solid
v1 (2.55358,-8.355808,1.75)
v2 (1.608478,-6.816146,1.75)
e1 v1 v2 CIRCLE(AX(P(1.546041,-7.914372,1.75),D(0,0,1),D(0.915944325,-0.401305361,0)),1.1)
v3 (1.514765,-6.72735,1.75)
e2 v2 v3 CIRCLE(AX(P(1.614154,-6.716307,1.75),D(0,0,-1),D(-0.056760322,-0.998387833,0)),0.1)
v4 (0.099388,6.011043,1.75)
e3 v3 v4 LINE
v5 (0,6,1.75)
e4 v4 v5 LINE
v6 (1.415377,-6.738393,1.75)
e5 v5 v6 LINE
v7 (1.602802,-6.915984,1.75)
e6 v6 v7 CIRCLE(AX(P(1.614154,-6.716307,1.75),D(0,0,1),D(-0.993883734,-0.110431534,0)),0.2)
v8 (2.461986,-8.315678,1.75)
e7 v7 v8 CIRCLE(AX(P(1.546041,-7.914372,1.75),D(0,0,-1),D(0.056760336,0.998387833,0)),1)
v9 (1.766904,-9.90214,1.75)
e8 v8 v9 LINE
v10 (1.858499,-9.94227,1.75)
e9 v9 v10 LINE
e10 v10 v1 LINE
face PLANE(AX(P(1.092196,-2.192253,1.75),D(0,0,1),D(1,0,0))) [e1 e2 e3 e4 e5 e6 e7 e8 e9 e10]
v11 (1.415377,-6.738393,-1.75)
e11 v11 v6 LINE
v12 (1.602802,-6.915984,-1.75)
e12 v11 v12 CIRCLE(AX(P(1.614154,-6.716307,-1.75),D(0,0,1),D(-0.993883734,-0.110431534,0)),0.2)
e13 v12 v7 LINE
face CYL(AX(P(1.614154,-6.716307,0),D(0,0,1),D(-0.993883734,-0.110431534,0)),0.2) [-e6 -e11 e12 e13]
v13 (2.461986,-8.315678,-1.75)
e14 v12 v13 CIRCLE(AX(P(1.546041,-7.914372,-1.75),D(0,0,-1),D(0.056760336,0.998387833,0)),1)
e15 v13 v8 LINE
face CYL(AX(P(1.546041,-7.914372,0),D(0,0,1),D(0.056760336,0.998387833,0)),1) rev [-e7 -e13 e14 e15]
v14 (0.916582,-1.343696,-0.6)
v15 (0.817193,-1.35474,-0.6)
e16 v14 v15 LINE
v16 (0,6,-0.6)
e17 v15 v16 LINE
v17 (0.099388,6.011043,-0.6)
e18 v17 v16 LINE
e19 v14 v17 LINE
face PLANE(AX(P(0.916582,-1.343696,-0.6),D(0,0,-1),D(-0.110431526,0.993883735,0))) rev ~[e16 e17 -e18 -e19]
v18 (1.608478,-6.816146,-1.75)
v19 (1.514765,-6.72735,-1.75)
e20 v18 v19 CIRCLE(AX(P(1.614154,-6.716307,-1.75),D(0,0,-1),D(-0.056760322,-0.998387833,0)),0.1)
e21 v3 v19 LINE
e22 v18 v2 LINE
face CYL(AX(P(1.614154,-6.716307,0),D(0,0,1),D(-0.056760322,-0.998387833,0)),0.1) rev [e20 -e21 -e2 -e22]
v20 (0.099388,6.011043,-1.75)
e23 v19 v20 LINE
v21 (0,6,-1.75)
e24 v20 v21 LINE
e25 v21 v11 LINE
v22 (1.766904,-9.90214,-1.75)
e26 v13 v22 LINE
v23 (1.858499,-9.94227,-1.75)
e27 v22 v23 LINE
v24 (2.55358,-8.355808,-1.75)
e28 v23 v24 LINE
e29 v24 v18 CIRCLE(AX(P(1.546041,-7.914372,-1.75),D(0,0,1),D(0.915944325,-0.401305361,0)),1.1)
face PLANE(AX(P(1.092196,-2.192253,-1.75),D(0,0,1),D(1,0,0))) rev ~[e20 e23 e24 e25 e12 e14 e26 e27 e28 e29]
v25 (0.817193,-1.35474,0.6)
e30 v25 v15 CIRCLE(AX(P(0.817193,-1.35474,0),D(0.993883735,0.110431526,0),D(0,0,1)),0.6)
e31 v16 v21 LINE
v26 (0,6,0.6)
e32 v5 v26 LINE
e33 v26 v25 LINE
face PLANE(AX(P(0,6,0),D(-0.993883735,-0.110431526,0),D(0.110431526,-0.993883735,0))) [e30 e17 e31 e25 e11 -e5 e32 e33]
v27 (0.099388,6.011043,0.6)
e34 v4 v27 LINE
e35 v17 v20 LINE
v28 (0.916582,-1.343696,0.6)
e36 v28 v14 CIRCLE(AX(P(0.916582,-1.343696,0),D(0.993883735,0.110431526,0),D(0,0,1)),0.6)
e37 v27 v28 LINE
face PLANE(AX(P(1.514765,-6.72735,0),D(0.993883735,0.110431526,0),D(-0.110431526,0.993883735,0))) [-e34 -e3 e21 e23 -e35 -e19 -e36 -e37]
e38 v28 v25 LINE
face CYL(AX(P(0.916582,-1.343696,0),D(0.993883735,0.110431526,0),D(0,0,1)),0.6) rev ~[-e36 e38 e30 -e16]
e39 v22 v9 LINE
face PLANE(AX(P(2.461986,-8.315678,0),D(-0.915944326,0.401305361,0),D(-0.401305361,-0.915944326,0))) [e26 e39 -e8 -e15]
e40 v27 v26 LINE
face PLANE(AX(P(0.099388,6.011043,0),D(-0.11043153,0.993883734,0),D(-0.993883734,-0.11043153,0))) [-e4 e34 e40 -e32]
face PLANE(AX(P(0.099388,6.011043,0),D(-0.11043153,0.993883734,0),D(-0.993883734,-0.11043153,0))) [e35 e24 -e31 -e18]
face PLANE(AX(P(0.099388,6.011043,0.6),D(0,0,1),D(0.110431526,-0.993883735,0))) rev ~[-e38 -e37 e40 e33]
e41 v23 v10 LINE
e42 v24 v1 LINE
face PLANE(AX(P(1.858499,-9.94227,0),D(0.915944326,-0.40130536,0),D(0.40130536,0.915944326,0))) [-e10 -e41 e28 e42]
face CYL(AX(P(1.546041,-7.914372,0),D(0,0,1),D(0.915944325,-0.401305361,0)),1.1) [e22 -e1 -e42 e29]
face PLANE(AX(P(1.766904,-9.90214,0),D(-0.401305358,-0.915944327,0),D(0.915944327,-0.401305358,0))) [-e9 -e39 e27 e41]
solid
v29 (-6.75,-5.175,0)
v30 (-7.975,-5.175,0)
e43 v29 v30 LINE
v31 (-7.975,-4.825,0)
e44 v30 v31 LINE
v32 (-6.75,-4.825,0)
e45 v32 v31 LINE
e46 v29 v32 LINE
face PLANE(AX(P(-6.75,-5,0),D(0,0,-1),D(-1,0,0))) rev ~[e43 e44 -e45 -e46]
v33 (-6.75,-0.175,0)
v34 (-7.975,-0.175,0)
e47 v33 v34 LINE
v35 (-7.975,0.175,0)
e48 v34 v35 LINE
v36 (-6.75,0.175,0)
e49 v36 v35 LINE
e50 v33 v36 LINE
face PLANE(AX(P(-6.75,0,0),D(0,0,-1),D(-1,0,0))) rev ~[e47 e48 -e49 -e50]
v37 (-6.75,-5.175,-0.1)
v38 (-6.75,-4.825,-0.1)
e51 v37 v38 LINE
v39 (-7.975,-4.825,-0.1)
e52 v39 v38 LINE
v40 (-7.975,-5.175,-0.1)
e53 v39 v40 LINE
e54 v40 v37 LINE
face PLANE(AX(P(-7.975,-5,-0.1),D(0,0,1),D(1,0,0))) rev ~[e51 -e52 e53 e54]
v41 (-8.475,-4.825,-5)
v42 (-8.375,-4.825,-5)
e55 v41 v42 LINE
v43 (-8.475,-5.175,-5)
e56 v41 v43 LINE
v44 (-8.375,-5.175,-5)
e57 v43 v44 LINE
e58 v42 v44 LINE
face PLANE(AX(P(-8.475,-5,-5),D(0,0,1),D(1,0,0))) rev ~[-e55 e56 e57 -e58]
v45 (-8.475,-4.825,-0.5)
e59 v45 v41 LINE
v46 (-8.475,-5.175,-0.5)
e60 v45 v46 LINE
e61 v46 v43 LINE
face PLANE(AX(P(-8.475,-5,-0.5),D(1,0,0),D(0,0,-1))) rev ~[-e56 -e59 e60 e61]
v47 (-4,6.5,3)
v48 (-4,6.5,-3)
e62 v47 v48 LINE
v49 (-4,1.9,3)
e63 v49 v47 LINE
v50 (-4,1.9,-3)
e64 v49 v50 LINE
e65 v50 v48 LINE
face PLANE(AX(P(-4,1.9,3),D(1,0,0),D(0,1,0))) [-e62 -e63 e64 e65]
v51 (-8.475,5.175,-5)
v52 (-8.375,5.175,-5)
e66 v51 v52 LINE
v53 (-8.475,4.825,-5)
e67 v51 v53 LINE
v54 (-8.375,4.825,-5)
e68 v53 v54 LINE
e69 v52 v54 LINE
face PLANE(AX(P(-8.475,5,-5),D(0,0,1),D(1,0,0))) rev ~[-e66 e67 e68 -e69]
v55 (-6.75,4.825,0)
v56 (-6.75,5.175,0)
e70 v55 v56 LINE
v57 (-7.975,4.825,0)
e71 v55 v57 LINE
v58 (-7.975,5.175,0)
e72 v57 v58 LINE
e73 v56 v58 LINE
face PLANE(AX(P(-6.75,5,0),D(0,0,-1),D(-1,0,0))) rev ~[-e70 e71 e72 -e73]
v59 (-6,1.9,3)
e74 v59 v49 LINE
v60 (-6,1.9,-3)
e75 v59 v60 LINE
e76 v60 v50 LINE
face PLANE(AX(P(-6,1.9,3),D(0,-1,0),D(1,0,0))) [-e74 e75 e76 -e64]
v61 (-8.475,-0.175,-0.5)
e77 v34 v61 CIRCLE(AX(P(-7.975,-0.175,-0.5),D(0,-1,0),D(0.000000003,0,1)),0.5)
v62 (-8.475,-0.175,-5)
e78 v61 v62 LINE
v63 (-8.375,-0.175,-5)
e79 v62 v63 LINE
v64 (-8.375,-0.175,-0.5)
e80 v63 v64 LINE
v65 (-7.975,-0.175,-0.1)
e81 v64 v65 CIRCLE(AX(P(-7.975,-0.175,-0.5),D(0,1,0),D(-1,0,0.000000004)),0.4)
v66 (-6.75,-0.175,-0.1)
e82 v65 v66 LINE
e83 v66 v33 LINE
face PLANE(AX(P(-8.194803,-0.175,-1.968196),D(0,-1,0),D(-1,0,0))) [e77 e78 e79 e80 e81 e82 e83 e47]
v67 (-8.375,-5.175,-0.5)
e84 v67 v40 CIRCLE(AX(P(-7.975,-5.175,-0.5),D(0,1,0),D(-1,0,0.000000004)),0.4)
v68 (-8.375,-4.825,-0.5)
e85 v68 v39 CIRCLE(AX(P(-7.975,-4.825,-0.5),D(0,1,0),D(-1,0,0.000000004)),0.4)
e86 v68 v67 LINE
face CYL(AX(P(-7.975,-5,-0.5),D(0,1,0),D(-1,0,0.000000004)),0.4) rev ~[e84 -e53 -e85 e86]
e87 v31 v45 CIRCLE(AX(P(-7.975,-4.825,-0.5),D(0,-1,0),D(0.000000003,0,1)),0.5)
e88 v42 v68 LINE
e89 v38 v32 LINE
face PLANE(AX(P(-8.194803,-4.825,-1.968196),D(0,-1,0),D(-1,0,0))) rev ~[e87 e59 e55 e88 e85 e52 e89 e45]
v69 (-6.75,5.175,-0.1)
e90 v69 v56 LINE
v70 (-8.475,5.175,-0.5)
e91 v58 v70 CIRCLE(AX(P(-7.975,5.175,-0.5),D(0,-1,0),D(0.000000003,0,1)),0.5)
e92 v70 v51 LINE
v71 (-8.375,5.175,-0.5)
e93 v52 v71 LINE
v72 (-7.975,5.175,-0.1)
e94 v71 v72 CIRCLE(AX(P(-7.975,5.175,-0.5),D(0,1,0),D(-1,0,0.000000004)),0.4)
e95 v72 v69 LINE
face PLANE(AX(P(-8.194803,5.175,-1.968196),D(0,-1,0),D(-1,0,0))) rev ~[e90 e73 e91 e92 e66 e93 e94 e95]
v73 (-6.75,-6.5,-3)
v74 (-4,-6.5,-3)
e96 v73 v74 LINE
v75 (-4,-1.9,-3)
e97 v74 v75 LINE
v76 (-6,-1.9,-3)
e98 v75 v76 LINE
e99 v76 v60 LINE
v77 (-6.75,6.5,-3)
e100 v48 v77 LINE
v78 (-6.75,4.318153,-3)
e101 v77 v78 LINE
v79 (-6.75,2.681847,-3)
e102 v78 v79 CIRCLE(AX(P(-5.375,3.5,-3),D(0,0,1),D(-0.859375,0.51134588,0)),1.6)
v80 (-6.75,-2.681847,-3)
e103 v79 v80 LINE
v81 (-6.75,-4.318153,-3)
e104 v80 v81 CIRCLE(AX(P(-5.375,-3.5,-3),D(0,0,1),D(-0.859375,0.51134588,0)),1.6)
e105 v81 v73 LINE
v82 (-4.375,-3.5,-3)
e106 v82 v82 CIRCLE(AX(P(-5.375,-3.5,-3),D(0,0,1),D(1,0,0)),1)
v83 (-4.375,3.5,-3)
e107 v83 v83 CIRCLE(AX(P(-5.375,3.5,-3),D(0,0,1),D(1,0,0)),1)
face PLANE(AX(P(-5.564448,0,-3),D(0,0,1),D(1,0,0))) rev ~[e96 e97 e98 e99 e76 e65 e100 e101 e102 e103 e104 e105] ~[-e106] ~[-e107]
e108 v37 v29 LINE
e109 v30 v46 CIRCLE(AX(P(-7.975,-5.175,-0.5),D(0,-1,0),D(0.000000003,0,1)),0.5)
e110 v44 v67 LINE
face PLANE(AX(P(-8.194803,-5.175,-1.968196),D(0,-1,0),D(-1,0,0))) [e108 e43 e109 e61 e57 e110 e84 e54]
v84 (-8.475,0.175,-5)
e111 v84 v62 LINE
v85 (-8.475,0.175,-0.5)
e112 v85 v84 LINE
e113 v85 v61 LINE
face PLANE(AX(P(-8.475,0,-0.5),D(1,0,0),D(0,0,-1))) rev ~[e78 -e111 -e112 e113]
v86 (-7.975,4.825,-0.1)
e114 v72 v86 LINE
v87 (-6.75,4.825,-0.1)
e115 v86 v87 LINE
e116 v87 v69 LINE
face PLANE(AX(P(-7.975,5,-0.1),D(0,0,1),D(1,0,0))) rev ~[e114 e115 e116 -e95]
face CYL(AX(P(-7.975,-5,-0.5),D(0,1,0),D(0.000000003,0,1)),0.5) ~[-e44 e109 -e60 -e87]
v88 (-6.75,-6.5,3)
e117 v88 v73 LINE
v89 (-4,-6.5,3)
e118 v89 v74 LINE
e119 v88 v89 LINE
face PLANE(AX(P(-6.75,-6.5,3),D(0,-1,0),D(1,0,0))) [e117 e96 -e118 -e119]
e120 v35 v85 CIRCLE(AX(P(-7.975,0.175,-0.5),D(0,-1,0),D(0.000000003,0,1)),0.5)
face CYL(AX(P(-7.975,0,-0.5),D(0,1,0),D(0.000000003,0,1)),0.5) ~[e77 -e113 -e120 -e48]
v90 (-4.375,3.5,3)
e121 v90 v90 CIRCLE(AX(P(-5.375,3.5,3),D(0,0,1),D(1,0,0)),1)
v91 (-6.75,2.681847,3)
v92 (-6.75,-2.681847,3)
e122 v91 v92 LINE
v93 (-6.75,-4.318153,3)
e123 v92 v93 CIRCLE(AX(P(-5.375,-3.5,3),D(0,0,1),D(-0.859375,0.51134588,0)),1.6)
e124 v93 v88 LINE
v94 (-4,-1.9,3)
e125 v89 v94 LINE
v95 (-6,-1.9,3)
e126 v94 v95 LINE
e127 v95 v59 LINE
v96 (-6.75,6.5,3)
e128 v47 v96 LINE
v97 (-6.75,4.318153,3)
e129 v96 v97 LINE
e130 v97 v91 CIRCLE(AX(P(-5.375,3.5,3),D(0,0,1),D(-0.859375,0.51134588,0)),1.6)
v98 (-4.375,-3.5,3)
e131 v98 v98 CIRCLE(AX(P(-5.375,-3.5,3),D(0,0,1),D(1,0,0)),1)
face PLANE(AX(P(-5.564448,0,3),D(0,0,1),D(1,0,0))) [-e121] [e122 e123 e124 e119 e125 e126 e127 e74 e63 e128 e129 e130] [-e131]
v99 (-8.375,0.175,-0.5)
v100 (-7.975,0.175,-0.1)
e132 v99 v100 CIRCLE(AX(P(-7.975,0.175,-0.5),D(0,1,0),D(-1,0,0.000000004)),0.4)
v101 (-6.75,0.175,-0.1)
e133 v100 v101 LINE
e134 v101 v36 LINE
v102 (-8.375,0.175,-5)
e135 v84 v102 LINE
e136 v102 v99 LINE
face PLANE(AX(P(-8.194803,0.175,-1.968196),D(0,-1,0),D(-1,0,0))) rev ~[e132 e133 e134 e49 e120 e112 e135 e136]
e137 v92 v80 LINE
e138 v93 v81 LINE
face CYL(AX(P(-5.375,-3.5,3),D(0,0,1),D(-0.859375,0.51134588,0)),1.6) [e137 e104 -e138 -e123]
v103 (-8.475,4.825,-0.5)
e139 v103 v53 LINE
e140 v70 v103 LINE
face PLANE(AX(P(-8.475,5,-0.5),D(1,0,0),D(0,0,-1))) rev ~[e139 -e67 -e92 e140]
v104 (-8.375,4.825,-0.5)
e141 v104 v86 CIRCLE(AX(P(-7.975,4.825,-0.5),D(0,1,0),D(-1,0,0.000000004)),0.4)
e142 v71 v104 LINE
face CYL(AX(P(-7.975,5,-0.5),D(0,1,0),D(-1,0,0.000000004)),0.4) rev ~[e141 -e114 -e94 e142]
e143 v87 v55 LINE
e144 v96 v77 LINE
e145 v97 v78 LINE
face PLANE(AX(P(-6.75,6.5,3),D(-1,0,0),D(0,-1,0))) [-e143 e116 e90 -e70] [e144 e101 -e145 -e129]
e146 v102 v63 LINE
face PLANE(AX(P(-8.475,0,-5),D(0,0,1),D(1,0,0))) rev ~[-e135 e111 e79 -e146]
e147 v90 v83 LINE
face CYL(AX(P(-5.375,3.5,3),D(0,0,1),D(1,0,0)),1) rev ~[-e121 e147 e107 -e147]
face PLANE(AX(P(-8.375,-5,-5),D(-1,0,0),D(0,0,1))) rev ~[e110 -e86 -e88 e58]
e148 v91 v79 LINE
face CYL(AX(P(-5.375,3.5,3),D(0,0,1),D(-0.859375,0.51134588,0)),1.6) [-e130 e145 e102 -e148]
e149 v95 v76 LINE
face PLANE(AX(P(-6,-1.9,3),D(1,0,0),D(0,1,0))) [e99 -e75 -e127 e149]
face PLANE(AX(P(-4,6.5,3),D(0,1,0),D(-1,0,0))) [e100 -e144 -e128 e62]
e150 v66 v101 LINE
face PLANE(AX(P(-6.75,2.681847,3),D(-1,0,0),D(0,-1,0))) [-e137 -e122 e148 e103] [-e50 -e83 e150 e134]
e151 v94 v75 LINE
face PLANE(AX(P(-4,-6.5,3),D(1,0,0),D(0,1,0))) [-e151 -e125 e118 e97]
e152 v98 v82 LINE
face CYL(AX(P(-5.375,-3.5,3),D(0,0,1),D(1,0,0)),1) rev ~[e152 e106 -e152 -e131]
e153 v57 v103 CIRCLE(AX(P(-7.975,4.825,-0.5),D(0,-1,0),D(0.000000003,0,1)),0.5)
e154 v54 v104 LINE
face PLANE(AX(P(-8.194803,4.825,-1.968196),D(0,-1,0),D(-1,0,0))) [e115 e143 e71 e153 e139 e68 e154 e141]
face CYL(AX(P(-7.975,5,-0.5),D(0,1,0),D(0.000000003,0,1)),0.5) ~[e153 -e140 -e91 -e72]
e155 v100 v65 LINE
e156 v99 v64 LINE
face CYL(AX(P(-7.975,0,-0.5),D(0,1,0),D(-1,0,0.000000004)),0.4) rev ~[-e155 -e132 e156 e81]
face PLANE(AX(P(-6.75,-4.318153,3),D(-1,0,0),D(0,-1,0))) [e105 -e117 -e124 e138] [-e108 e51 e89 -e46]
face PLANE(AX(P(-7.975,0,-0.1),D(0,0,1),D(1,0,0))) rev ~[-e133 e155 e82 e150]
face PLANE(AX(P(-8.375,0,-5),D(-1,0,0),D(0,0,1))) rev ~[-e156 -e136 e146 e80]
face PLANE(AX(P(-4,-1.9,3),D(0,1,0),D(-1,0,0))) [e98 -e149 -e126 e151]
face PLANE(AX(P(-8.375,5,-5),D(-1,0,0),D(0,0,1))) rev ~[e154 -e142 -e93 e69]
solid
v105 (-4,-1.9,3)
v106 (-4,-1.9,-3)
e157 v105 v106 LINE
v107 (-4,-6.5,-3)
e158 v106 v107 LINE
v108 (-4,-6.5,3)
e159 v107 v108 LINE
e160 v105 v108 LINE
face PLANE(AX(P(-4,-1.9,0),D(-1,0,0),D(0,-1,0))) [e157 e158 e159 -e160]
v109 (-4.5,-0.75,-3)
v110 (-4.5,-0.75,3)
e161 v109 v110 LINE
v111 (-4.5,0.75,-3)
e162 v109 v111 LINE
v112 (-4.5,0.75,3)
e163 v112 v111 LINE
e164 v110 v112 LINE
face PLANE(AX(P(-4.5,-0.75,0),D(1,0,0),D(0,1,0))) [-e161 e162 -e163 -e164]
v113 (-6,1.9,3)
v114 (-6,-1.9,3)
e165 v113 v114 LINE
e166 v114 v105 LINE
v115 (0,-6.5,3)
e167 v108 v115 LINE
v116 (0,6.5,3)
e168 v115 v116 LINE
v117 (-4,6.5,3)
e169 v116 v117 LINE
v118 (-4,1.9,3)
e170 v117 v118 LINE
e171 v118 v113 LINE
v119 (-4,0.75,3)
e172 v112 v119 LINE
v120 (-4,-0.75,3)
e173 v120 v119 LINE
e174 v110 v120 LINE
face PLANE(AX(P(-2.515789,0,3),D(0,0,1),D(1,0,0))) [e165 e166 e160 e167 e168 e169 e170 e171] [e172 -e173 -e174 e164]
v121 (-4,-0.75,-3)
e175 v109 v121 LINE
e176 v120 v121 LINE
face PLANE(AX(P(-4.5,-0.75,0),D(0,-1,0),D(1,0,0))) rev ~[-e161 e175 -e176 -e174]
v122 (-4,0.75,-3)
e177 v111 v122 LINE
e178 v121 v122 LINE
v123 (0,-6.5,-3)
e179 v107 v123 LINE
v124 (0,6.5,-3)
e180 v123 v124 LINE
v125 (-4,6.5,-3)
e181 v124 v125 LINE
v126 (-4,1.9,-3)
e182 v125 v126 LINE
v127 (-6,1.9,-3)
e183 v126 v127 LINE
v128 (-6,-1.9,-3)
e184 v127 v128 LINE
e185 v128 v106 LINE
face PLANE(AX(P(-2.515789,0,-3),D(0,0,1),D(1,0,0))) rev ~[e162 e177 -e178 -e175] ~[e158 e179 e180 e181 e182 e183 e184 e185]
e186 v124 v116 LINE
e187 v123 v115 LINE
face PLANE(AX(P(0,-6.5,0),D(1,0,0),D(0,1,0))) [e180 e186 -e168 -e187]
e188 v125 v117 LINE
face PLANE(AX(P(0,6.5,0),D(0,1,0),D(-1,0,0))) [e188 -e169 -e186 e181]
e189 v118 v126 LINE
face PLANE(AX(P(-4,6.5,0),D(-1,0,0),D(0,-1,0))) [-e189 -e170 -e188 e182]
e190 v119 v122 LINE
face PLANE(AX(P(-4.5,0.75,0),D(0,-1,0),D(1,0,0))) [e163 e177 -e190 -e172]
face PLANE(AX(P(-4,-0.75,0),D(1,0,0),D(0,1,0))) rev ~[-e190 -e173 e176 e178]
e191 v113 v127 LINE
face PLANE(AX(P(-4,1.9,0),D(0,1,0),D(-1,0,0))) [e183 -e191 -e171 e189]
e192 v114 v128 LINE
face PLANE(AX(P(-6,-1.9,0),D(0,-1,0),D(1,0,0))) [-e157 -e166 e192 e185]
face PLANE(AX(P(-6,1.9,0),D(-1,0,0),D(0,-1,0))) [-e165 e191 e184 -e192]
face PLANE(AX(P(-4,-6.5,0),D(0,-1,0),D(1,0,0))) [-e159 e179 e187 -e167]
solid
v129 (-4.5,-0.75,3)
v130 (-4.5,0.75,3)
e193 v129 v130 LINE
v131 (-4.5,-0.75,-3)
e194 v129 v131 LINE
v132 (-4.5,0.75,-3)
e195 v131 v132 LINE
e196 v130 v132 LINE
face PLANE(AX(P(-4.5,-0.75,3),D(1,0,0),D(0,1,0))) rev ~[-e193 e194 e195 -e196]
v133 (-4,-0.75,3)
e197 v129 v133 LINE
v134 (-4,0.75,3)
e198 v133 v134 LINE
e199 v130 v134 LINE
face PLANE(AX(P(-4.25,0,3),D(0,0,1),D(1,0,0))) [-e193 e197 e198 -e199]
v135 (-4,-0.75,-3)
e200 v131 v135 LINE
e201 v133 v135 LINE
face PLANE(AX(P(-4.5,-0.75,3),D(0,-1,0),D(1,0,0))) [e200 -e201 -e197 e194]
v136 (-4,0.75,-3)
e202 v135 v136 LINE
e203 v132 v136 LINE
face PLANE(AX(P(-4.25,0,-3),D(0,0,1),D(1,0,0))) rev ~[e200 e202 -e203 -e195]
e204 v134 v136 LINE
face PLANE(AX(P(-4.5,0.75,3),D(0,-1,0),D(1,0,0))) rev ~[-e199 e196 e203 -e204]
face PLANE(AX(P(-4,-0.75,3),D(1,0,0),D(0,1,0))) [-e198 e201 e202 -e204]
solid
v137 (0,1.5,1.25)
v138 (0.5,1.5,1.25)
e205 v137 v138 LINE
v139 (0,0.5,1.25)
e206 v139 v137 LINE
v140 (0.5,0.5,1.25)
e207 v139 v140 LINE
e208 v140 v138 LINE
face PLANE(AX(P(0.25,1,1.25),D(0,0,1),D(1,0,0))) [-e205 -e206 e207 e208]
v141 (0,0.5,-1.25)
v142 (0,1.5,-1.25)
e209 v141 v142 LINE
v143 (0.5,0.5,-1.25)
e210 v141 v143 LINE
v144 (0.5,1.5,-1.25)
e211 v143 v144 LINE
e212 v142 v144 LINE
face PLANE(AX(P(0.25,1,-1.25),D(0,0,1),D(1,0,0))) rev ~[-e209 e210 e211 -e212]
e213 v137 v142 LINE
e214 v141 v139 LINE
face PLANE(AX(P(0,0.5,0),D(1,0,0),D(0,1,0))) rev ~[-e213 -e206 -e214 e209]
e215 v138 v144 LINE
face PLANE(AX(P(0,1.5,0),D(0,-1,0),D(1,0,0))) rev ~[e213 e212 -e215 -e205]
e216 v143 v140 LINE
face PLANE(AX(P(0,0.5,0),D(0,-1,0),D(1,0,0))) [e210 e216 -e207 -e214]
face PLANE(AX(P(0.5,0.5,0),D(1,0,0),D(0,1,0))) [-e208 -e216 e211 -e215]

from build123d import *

# Parameters (mm, degrees)
ESQUISSE1_W                    = 0.5
ESQUISSE1_H                    = 1.5
BOSS_EXTRU_1_DEPTH             = 3
ESQUISSE2_R                    = 1
BOSS_EXTRU_2_DEPTH             = 6
ESQUISSE2_W                    = 0.5
ESQUISSE2_H                    = 1.5
BOSS_EXTRU_2_2_DEPTH           = 6
ESQUISSE3_W                    = 0.5
ESQUISSE3_H                    = 1
BOSS_EXTRU_3_DEPTH             = 1.25
BOSS_EXTRU_4_DEPTH             = 1.75
ENL_V_MAT_EXTRU_1_DEPTH        = 0.1
BOSS_EXTRU_5_DEPTH             = 0.175
R_P_TITION_LIN_AIRE1_COUNT     = 2
R_P_TITION_LIN_AIRE1_PITCH     = 5
R_P_TITION_LIN_AIRE1_COL_COUNT = 2
R_P_TITION_LIN_AIRE1_COL_PITCH = 5


with BuildPart() as part:
    # Esquisse1 → Boss.-Extru.1 (new, symmetric)
    with BuildSketch(Plane.XY):
        Polygon((-4, -1.9), (-4, -6.5), (0, -6.5), (0, 6.5), (-4, 6.5), (-4, 1.9), (-6, 1.9), (-6, -1.9), align=None)
        with Locations((-4.25, 0)):
            Rectangle(ESQUISSE1_W, ESQUISSE1_H, mode=Mode.SUBTRACT)
    extrude(amount=BOSS_EXTRU_1_DEPTH, both=True)


with BuildPart() as body_2:
    # Esquisse2 → Boss.-Extru.2 (new body)
    with BuildSketch(Plane.XY.offset(3)):
        with BuildLine():
            Line((-4, 6.5), (-6.75, 6.5))
            Line((-6.75, 6.5), (-6.75, 4.318153409))
            ThreePointArc((-6.75, 4.318153409), (-6.975, 3.5), (-6.75, 2.681846591))
            Line((-6.75, 2.681846591), (-6.75, -2.681846591))
            ThreePointArc((-6.75, -2.681846591), (-6.975, -3.5), (-6.75, -4.318153409))
            Line((-6.75, -4.318153409), (-6.75, -6.5))
            Line((-6.75, -6.5), (-4, -6.5))
            Line((-4, -6.5), (-4, -1.9))
            Line((-4, -1.9), (-6, -1.9))
            Line((-6, -1.9), (-6, 1.9))
            Line((-6, 1.9), (-4, 1.9))
            Line((-4, 1.9), (-4, 6.5))
        make_face()
        with Locations((-5.375, 3.5)):
            Circle(ESQUISSE2_R, mode=Mode.SUBTRACT)
        with Locations((-5.375, -3.5)):
            Circle(ESQUISSE2_R, mode=Mode.SUBTRACT)
    extrude(amount=-BOSS_EXTRU_2_DEPTH)


with BuildPart() as body_3:
    # Esquisse2 → Boss.-Extru.2 2 (new body)
    with BuildSketch(Plane.XY.offset(3)):
        with Locations((-4.25, 0)):
            Rectangle(ESQUISSE2_W, ESQUISSE2_H)
    extrude(amount=-BOSS_EXTRU_2_2_DEPTH)


with BuildPart() as body_4:
    # Esquisse3 → Boss.-Extru.3 (new, symmetric)
    with BuildSketch(Plane.XY):
        with Locations((0.25, 1)):
            Rectangle(ESQUISSE3_W, ESQUISSE3_H)
    extrude(amount=BOSS_EXTRU_3_DEPTH, both=True)


with BuildPart() as body_5:
    # Esquisse4 → Boss.-Extru.4 (new, symmetric)
    with BuildSketch(Plane.XY):
        with BuildLine():
            Line((0, 6), (1.415377021, -6.738393192))
            ThreePointArc((1.415377021, -6.738393192), (1.476592169, -6.861485419), (1.602801701, -6.915984453))
            ThreePointArc((1.602801701, -6.915984453), (2.398287719, -7.391231624), (2.461985691, -8.315677646))
            Line((2.461985691, -8.315677646), (1.766904417, -9.902139755))
            Line((1.766904417, -9.902139755), (1.85849885, -9.942270291))
            Line((1.85849885, -9.942270291), (2.553580123, -8.355808182))
            ThreePointArc((2.553580123, -8.355808182), (2.483512355, -7.338917558), (1.608477735, -6.81614567))
            ThreePointArc((1.608477735, -6.81614567), (1.545372968, -6.788896153), (1.514765395, -6.727350039))
            Line((1.514765395, -6.727350039), (0.099388373, 6.011043153))
            Line((0.099388373, 6.011043153), (0, 6))
        make_face()
    extrude(amount=BOSS_EXTRU_4_DEPTH, both=True)

    # Esquisse5 → Enlèv. mat.-Extru.1 (cut)
    with BuildSketch(Plane(origin=(0.757924959, 0.084213884, 0), x_dir=(0, 0, -1), z_dir=(0.9938837346736189, 0.11043152607484652, 0))):
        with BuildLine():
            Line((-0.6, 5.963302408), (-0.6, -1.436697592))
            ThreePointArc((-0.6, -1.436697592), (0, -2.036697592), (0.6, -1.436697592))
            Line((0.6, -1.436697592), (0.6, 5.963302408))
            Line((0.6, 5.963302408), (-0.6, 5.963302408))
        make_face()
    extrude(amount=-ENL_V_MAT_EXTRU_1_DEPTH, mode=Mode.SUBTRACT)


with BuildPart() as body_6:
    # Esquisse6 → Boss.-Extru.5 (new, symmetric)
    with BuildSketch(Plane(origin=(0, 0, 0), x_dir=(1, 0, 0), z_dir=(0, 1, 0))):
        with BuildLine():
            Line((-6.975, 0), (-7.975, 0))
            ThreePointArc((-7.975, 0), (-8.328553391, 0.146446609), (-8.475, 0.5))
            Line((-8.475, 0.5), (-8.475, 5))
            Line((-8.475, 5), (-8.375, 5))
            Line((-8.375, 5), (-8.375, 0.5))
            ThreePointArc((-8.375, 0.5), (-8.257842712, 0.217157288), (-7.975, 0.1))
            Line((-7.975, 0.1), (-6.975, 0.1))
            Line((-6.975, 0.1), (-6.75, 0.1))
            Line((-6.75, 0.1), (-6.75, 0))
            Line((-6.75, 0), (-6.975, 0))
        make_face()
    boss_extru_5 = extrude(amount=BOSS_EXTRU_5_DEPTH, both=True)


with BuildPart() as body_2_1:
    add(body_2.part)

    # Répétition linéaire1: Boss.-Extru.5 ×2
    with Locations(*[(0, -i * R_P_TITION_LIN_AIRE1_PITCH, 0) for i in range(1, R_P_TITION_LIN_AIRE1_COUNT)]):
        add(boss_extru_5)

    # Répétition linéaire1 col: Boss.-Extru.5 ×2
    with Locations(*[(0, i * R_P_TITION_LIN_AIRE1_COL_PITCH, 0) for i in range(1, R_P_TITION_LIN_AIRE1_COL_COUNT)]):
        add(boss_extru_5)

    # Répétition linéaire1 col and its seed as: union body 6
    add(body_6.part)


solid = Compound([part.part, body_3.part, body_4.part, body_5.part, body_2_1.part])
